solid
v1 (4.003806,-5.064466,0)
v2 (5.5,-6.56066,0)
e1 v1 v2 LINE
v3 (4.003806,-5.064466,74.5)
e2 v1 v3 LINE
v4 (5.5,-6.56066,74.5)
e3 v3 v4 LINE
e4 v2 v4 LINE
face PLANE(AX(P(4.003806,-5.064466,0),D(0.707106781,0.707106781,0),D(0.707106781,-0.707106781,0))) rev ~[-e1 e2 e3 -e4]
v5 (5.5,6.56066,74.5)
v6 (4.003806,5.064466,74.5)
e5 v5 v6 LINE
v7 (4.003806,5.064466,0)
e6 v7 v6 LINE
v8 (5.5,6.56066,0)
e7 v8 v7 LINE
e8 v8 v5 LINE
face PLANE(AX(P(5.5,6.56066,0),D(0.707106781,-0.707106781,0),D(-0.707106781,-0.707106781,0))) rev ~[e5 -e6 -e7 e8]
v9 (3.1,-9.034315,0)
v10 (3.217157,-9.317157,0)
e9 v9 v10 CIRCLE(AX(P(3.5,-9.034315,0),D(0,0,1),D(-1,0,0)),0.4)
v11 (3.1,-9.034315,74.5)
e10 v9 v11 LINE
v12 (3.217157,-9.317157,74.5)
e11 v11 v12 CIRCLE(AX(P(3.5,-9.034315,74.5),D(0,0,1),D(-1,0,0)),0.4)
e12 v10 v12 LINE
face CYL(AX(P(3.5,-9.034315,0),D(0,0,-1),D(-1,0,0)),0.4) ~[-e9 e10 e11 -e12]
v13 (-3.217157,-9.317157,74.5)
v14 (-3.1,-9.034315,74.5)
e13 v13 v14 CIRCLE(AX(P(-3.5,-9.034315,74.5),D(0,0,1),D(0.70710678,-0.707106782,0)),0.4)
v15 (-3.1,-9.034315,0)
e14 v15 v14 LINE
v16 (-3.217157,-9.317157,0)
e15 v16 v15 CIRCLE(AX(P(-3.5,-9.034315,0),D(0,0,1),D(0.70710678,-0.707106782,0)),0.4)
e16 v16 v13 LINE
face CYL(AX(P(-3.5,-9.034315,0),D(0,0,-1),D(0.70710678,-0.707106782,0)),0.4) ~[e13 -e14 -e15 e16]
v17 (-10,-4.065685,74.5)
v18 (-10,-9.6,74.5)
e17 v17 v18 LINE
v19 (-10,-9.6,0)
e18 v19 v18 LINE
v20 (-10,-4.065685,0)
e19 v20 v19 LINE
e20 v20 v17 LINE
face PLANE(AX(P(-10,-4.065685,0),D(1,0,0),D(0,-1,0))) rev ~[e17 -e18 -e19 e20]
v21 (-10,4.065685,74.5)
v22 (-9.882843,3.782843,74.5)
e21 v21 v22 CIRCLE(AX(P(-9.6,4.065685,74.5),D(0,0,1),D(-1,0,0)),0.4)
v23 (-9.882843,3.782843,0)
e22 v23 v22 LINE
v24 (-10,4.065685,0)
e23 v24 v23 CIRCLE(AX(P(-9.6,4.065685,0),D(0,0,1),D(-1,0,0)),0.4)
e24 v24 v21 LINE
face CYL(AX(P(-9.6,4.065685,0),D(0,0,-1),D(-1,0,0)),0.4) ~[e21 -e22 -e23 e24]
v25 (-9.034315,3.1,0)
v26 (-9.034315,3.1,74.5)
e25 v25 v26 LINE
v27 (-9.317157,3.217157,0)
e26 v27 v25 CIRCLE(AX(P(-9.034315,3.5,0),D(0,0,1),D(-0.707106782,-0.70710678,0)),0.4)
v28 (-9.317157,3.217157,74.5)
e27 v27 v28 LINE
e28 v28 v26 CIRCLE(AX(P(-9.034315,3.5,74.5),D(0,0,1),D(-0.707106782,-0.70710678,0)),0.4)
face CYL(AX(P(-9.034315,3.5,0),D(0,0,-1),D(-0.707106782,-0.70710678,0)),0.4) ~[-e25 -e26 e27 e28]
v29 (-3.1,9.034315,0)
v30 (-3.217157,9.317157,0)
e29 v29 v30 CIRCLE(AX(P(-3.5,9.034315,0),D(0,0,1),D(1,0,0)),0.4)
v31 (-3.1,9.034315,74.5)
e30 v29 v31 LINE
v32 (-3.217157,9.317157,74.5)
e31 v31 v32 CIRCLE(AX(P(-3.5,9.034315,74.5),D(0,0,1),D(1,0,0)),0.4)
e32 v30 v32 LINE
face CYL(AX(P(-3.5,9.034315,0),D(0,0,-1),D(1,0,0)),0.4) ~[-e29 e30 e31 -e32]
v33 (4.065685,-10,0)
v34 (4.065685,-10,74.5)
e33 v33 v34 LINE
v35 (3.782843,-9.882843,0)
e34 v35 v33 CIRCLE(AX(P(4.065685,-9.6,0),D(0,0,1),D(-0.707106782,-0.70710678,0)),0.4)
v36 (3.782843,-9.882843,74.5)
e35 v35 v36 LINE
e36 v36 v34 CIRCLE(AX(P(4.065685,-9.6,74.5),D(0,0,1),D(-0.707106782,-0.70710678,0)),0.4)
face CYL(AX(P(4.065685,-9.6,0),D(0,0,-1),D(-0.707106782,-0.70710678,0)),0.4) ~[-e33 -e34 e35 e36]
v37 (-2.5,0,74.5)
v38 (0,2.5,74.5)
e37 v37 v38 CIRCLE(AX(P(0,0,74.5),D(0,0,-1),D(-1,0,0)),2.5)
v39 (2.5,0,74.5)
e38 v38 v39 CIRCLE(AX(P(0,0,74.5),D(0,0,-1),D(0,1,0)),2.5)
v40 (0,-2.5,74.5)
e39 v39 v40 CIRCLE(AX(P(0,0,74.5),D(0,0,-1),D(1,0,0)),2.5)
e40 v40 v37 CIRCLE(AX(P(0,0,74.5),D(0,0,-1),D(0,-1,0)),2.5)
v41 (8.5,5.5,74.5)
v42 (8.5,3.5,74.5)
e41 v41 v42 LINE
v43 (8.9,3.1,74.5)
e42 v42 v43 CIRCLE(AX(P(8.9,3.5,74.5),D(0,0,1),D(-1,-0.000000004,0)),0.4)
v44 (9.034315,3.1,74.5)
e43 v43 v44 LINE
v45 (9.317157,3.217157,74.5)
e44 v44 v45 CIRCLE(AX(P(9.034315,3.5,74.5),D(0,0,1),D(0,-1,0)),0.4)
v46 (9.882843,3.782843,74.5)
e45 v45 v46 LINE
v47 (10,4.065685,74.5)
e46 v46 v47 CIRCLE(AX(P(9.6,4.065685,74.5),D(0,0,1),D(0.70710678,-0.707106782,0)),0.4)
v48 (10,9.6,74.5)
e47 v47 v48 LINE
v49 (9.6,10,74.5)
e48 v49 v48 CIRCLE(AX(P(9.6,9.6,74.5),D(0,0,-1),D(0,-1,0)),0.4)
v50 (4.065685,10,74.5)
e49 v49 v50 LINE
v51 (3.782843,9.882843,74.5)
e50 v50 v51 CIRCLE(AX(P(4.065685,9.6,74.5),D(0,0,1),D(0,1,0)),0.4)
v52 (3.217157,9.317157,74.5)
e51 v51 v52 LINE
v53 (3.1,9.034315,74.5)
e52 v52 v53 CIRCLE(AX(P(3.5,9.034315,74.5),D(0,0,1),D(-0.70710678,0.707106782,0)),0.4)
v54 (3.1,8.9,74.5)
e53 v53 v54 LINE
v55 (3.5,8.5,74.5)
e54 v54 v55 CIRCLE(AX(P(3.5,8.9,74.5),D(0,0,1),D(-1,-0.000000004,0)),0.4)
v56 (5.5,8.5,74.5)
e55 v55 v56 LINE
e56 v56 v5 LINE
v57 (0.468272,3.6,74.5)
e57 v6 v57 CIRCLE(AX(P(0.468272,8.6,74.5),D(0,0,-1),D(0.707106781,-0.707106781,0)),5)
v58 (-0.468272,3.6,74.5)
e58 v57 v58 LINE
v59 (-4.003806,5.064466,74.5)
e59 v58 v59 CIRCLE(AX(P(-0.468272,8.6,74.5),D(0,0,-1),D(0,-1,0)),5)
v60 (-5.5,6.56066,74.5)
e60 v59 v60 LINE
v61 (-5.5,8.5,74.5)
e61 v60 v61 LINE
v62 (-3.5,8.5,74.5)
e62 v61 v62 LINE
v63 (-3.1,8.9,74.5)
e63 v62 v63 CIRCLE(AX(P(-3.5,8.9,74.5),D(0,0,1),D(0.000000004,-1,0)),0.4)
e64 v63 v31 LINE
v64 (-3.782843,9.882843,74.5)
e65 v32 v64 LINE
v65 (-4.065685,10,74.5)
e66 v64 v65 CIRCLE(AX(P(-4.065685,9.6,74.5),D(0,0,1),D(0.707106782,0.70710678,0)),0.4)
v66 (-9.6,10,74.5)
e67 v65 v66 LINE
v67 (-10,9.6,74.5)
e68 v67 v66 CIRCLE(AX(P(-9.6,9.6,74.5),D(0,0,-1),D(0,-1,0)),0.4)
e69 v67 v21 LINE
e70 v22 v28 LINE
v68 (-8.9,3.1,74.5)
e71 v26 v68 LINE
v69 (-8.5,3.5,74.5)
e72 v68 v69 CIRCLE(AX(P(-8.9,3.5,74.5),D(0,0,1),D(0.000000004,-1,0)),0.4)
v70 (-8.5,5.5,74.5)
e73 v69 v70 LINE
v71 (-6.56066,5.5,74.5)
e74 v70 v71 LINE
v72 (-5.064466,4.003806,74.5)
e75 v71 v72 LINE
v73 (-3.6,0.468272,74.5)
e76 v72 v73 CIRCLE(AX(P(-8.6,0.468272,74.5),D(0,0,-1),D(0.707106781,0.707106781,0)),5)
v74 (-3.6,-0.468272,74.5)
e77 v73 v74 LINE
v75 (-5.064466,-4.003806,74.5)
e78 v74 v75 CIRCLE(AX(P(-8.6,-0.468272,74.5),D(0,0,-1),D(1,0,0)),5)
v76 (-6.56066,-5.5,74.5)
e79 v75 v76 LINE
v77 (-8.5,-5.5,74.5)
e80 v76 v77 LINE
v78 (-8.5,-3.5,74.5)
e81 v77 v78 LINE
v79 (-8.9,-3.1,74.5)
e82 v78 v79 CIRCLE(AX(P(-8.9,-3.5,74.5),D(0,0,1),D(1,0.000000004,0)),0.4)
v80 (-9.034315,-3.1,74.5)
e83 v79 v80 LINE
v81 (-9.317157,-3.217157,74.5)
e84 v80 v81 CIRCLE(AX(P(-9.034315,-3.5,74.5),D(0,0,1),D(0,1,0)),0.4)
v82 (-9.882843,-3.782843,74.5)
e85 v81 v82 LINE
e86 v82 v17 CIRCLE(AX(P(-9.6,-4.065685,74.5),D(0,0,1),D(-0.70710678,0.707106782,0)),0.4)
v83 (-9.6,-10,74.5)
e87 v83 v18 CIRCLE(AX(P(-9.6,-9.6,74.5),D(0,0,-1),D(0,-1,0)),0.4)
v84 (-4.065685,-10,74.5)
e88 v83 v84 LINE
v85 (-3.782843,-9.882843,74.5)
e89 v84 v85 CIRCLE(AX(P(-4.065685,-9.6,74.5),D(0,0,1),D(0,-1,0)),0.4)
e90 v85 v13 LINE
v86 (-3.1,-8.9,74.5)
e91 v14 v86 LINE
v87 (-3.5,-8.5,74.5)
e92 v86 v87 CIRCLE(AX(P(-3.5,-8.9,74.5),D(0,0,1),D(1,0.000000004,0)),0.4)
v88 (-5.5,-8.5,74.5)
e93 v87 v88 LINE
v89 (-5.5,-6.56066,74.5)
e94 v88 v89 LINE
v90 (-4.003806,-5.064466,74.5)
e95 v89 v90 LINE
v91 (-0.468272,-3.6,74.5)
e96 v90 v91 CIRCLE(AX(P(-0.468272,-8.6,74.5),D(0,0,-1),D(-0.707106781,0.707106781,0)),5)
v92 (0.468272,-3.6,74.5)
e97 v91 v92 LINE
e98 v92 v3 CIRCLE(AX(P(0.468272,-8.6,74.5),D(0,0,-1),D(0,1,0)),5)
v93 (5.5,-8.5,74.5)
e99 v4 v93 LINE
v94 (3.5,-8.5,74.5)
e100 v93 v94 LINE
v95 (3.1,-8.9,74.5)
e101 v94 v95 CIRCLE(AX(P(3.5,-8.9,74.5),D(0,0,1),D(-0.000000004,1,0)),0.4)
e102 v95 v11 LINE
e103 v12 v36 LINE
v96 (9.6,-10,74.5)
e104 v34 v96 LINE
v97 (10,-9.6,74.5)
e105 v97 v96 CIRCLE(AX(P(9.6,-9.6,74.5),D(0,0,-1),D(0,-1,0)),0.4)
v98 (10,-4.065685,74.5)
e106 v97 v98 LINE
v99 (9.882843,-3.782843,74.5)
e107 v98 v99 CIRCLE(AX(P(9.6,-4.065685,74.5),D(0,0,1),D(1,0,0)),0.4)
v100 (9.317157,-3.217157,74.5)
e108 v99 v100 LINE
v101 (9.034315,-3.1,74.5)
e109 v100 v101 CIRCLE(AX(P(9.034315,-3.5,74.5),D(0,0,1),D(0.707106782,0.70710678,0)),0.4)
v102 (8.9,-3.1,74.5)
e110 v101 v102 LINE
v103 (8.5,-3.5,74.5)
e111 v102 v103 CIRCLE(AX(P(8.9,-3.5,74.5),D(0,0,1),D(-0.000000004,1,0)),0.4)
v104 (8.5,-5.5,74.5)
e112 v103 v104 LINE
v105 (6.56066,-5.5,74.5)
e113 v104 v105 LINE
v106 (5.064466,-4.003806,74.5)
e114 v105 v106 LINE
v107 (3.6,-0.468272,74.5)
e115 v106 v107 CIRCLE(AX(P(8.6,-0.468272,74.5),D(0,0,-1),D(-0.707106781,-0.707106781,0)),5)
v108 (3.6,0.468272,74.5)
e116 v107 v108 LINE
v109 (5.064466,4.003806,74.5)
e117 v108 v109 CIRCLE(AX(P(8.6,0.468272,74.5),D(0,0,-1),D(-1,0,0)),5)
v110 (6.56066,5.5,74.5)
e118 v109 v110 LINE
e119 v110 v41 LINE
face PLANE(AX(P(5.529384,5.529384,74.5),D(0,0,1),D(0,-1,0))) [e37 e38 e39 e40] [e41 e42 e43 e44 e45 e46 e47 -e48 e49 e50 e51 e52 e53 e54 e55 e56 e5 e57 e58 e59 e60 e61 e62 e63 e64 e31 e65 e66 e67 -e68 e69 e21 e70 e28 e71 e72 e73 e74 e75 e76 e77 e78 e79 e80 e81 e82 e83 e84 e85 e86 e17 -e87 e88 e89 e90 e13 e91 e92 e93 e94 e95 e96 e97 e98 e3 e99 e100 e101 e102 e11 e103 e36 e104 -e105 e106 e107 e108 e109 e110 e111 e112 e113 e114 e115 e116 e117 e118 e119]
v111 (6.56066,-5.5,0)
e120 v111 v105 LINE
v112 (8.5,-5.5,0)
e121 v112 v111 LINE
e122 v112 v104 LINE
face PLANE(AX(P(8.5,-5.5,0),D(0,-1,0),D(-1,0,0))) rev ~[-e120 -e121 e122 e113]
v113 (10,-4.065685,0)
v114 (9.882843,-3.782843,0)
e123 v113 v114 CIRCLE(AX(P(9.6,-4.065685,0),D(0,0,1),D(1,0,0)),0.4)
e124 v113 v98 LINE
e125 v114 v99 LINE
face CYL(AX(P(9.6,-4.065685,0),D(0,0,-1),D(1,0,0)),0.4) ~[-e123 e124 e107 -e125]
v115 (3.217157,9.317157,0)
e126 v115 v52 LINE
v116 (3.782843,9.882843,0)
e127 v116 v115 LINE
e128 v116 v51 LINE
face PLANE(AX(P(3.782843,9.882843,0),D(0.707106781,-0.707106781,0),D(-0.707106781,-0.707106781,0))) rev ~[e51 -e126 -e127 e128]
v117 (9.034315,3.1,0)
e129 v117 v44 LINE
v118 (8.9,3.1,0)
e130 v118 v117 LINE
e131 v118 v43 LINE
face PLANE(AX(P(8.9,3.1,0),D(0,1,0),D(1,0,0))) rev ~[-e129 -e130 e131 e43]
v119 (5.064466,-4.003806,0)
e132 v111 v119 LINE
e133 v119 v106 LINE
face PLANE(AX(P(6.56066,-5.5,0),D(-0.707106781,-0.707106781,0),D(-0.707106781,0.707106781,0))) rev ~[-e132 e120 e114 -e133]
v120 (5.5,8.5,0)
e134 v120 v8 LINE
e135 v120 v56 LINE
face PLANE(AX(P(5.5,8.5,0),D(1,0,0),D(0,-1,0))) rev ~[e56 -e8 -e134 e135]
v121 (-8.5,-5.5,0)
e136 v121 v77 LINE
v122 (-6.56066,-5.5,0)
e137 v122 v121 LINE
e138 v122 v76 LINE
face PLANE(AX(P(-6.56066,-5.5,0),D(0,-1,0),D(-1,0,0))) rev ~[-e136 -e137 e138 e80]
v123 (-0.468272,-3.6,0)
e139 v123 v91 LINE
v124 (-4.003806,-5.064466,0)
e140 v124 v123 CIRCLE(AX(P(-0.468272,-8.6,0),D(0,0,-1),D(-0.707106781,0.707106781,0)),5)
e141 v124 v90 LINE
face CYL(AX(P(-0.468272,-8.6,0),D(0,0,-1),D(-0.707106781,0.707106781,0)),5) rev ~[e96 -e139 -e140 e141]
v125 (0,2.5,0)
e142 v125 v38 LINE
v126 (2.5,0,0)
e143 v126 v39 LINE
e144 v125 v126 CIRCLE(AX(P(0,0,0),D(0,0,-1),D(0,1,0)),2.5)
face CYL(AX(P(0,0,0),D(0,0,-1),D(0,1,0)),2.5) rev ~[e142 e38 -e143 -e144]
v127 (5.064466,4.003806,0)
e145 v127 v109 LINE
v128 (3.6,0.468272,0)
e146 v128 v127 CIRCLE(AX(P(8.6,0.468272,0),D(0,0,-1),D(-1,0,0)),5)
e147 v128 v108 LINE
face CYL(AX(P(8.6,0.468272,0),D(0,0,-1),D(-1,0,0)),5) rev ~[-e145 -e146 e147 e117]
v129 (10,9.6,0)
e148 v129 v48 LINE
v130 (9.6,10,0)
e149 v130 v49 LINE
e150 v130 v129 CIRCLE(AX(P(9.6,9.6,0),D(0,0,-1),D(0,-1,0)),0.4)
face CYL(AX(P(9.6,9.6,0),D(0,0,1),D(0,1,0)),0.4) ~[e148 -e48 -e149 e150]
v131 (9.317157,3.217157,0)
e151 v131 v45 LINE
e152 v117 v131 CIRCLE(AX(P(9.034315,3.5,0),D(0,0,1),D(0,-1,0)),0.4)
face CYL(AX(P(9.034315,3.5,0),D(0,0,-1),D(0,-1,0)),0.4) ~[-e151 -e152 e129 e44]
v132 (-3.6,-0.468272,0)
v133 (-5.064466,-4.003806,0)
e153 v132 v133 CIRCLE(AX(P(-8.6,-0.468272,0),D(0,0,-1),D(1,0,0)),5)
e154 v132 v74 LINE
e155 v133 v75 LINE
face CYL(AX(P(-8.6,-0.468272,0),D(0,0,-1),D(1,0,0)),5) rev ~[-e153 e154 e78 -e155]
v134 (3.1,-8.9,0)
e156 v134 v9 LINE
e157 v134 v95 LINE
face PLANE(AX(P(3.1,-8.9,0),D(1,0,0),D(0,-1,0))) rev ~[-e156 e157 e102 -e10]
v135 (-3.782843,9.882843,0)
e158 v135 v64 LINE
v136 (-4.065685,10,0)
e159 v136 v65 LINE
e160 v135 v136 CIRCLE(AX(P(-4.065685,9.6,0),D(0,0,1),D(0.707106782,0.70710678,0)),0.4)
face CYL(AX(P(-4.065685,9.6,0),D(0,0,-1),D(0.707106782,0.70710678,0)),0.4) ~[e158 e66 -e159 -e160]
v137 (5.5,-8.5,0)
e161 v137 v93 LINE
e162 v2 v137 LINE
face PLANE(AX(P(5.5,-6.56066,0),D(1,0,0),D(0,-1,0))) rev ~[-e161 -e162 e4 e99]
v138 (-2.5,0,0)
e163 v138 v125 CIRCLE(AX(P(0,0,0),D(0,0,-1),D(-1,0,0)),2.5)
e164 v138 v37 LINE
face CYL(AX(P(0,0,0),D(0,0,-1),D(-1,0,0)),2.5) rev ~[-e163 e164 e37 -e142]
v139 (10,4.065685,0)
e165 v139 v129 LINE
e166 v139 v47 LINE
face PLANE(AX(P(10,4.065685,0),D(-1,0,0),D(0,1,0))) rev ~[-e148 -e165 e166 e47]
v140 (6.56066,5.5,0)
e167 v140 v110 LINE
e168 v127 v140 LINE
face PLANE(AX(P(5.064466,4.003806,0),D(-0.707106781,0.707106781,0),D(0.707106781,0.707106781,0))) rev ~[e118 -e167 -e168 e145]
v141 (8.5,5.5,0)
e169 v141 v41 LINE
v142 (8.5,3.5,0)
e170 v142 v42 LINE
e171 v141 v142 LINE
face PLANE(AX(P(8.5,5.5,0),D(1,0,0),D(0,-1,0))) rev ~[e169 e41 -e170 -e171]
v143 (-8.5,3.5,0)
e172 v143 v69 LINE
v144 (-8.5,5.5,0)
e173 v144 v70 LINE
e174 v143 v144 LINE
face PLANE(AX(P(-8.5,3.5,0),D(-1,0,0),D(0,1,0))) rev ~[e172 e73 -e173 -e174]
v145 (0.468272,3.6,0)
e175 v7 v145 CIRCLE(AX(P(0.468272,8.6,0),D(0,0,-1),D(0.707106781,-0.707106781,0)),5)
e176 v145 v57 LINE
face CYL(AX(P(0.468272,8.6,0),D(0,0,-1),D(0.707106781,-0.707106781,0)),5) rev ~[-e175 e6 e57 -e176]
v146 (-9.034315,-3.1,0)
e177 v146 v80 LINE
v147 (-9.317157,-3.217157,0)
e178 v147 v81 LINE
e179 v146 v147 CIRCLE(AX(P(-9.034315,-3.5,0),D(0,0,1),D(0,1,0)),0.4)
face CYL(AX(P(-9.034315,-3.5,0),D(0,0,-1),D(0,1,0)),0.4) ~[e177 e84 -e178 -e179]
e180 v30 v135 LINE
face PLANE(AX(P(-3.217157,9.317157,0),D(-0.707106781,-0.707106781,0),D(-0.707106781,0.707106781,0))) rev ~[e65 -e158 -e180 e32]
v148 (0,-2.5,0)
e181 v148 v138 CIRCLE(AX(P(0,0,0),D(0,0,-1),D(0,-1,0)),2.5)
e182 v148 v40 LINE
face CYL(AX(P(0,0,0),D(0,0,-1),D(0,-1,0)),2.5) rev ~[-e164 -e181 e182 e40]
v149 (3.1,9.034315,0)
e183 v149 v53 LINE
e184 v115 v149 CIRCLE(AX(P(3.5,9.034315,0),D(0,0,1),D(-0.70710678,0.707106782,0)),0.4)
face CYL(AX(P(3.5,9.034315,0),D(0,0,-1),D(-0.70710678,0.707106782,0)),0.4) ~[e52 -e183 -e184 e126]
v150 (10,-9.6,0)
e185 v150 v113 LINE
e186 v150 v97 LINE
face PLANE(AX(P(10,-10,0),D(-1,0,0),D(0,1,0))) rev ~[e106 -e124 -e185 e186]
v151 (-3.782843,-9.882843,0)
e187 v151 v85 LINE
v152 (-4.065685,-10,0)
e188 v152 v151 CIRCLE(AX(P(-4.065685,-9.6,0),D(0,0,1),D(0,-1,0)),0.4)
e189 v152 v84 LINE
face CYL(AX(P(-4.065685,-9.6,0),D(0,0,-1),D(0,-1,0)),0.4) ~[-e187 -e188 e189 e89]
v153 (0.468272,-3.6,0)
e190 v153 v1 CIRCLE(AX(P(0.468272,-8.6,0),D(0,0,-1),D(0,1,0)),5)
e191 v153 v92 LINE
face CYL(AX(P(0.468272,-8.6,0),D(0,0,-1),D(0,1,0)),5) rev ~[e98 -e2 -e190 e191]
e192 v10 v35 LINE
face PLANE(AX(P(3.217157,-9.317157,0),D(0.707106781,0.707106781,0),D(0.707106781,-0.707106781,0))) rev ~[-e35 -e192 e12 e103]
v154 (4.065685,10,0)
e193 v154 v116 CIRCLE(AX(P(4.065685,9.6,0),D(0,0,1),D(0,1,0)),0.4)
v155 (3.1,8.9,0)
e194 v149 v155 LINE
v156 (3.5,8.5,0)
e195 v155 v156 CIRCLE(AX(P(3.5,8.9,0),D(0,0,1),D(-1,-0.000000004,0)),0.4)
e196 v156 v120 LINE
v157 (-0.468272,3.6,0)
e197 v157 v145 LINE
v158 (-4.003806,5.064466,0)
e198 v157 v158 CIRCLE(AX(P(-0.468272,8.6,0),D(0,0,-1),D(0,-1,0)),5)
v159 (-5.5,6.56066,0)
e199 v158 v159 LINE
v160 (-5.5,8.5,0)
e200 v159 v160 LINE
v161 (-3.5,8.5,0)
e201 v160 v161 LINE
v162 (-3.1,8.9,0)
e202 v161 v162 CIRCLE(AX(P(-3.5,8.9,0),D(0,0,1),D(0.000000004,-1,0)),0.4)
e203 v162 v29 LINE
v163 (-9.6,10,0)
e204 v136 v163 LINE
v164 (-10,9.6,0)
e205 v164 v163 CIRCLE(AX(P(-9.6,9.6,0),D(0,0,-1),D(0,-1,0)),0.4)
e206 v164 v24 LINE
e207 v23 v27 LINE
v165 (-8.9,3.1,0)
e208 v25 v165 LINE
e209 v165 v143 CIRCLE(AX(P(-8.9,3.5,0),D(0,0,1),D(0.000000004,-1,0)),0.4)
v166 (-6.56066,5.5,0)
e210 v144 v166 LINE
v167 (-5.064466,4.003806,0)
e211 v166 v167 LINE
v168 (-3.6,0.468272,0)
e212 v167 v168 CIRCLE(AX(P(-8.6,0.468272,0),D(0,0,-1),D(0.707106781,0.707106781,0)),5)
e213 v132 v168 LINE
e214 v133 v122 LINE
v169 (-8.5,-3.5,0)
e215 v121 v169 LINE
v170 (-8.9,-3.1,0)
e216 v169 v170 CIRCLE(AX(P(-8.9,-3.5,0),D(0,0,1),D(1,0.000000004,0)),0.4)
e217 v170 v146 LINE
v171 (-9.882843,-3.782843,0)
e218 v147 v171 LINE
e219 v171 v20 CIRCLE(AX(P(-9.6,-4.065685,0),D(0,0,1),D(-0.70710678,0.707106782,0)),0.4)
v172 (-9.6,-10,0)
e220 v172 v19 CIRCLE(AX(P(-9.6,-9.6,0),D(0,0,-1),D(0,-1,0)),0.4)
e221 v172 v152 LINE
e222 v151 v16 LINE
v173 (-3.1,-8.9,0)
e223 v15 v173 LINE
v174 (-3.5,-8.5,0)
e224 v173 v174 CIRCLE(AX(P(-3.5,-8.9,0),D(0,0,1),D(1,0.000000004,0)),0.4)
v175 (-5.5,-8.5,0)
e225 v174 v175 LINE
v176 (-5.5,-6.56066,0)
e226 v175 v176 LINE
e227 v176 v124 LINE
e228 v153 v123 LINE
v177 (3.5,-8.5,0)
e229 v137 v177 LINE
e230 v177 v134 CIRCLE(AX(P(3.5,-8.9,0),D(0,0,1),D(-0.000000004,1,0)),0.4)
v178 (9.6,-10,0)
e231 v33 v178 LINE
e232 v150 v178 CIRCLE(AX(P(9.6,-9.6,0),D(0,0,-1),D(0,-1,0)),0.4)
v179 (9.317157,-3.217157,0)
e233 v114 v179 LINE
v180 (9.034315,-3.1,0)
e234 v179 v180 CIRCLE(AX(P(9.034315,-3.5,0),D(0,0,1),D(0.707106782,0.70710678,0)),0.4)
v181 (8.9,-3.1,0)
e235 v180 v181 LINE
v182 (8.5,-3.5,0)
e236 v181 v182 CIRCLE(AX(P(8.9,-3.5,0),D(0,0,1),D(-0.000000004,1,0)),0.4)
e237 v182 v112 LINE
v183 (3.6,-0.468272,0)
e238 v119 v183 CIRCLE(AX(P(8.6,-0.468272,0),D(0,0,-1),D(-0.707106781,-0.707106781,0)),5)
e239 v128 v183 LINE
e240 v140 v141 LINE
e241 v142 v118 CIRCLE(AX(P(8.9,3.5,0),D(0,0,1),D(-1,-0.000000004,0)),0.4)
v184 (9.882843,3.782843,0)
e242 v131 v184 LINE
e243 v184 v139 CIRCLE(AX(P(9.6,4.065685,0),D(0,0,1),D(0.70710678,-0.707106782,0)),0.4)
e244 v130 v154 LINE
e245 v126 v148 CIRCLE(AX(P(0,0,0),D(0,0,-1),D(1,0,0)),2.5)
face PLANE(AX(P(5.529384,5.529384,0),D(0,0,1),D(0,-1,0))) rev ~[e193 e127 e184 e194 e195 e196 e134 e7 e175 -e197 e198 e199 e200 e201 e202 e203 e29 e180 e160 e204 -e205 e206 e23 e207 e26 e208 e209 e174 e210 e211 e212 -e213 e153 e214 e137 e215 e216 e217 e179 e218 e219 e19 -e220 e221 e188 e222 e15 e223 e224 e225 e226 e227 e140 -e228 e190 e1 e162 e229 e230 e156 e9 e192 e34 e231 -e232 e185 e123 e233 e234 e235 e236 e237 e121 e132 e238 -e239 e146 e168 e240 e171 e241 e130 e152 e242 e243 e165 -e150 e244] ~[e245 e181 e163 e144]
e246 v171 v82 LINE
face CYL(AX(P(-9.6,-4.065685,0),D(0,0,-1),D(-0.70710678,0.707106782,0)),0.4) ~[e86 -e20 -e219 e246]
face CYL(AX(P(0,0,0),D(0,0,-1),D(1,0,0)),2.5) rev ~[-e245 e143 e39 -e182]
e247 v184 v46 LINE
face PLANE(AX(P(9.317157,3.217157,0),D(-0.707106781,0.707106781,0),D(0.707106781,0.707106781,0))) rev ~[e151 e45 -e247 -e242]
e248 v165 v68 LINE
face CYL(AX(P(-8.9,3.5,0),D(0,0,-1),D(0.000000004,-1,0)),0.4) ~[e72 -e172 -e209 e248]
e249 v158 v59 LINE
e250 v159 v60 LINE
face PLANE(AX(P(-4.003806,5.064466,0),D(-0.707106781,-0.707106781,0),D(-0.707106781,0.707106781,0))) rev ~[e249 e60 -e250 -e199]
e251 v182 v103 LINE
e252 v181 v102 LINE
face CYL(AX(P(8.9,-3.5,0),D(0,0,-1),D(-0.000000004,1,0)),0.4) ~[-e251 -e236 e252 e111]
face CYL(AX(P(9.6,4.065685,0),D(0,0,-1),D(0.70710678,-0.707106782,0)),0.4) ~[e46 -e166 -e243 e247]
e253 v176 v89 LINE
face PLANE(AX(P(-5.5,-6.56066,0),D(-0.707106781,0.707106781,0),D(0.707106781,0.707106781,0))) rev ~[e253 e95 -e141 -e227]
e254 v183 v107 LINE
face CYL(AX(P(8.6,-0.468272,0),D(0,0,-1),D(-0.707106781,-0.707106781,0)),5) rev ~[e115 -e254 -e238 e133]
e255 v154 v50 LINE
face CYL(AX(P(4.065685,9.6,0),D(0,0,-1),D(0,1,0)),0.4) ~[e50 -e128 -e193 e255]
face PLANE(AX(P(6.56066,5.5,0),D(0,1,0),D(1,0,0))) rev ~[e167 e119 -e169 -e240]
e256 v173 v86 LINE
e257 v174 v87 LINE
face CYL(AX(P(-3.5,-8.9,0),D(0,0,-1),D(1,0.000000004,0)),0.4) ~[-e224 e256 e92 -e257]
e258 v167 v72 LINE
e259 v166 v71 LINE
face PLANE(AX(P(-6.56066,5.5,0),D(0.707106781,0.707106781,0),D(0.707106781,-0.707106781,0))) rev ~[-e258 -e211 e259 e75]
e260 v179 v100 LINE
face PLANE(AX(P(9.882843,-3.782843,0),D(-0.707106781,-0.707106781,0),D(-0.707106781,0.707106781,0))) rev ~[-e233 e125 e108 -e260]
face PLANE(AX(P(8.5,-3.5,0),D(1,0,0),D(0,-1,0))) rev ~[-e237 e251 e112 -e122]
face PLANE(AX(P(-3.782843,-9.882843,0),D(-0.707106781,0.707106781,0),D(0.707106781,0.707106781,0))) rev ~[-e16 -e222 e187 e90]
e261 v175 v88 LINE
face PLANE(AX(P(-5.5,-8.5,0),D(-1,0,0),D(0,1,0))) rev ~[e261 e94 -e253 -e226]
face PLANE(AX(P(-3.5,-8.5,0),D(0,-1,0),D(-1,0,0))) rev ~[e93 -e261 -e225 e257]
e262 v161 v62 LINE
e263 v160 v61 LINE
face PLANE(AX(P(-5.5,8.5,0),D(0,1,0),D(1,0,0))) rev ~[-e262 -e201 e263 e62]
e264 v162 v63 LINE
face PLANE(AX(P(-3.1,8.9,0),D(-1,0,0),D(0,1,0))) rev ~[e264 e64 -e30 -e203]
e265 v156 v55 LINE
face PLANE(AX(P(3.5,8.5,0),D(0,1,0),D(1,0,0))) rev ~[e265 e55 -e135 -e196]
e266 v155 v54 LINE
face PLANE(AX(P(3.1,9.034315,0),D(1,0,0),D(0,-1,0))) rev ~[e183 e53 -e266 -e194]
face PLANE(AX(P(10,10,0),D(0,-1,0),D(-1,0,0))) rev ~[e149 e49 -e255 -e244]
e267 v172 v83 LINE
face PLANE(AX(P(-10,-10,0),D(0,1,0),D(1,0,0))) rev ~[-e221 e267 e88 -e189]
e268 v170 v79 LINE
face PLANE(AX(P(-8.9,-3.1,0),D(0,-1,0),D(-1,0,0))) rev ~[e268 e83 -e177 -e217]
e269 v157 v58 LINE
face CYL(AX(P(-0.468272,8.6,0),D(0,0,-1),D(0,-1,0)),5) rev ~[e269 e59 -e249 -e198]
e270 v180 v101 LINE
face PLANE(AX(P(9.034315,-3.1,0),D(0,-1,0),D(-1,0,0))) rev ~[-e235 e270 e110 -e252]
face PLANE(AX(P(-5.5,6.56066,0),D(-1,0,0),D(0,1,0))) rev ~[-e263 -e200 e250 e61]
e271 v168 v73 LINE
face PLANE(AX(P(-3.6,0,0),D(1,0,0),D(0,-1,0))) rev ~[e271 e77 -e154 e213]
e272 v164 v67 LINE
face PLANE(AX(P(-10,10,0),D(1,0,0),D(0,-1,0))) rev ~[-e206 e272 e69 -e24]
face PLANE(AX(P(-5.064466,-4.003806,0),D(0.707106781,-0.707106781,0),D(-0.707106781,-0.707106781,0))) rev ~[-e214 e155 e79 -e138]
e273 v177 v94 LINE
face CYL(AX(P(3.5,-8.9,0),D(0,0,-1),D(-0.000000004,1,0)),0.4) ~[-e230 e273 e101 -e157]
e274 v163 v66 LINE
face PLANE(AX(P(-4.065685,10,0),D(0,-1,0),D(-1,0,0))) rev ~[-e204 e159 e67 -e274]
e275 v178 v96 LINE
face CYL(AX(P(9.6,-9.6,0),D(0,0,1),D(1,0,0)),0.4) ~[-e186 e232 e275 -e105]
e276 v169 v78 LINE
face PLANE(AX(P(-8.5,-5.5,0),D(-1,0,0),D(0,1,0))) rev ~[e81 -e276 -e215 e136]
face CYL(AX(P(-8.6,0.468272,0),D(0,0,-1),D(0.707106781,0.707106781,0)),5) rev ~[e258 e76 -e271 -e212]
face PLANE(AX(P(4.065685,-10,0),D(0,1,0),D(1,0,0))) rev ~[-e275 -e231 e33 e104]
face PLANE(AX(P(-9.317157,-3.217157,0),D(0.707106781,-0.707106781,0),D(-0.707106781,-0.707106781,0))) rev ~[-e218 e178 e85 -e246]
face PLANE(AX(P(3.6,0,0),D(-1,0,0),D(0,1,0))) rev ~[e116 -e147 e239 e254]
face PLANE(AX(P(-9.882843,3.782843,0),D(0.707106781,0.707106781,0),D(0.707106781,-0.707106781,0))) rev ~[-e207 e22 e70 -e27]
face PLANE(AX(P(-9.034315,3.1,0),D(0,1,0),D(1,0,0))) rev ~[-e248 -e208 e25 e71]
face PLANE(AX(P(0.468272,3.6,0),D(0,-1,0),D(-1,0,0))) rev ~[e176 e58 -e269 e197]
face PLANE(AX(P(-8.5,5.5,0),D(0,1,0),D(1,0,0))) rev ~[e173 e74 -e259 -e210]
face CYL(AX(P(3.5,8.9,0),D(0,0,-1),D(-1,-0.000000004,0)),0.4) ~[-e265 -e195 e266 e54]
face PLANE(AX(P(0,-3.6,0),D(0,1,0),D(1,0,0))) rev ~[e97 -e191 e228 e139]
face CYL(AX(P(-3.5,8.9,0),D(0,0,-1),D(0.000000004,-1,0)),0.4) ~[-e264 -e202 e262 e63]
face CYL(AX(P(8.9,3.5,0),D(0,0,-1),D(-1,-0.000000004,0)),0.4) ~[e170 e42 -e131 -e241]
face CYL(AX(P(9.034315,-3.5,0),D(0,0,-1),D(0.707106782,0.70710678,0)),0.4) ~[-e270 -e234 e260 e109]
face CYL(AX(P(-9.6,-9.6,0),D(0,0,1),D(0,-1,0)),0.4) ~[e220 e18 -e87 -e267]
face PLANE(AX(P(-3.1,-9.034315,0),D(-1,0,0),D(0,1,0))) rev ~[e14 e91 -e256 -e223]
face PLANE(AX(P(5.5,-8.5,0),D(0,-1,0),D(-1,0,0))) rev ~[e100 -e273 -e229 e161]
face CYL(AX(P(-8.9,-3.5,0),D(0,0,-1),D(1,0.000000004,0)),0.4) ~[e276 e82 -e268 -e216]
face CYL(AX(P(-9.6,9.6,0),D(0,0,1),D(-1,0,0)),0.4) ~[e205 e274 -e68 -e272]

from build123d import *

# Parameters (mm, degrees)
RESSALTO_EXTRUS_O1_DEPTH = 74.5
PADR_OCIRCULAR1_COUNT    = 4
FILETE1_R                = 0.4


with BuildPart() as part:
    # Esboço1 → Ressalto-extrusão1 (new body)
    with BuildSketch(Plane.XY):
        with BuildLine():
            ThreePointArc((-9.317157288, 3.217157288), (-9.187387948, 3.130448187), (-9.034314575, 3.1))
            Line((-9.034314575, 3.1), (-8.9, 3.1))
            ThreePointArc((-8.9, 3.1), (-8.617157288, 3.217157288), (-8.5, 3.5))
            Line((-8.5, 3.5), (-8.5, 5.5))
            Line((-8.5, 5.5), (-6.560660172, 5.5))
            Line((-6.560660172, 5.5), (-5.064466094, 4.003805922))
            ThreePointArc((-5.064466094, 4.003805922), (-3.980602337, 2.381689178), (-3.6, 0.468272016))
            Line((-3.6, 0.468272016), (-3.6, 0))
            Line((-3.6, 0), (-2.5, 0))
            ThreePointArc((-2.5, 0), (-1.767766953, 1.767766953), (0, 2.5))
            Line((0, 2.5), (0, 3.6))
            Line((0, 3.6), (-0.468272016, 3.6))
            ThreePointArc((-0.468272016, 3.6), (-2.381689178, 3.980602337), (-4.003805922, 5.064466094))
            Line((-4.003805922, 5.064466094), (-5.5, 6.560660172))
            Line((-5.5, 6.560660172), (-5.5, 8.5))
            Line((-5.5, 8.5), (-3.5, 8.5))
            ThreePointArc((-3.5, 8.5), (-3.217157288, 8.617157288), (-3.1, 8.9))
            Line((-3.1, 8.9), (-3.1, 9.034314575))
            ThreePointArc((-3.1, 9.034314575), (-3.130448187, 9.187387948), (-3.217157288, 9.317157288))
            Line((-3.217157288, 9.317157288), (-3.782842712, 9.882842712))
            ThreePointArc((-3.782842712, 9.882842712), (-3.912612052, 9.969551813), (-4.065685425, 10))
            Line((-4.065685425, 10), (-10, 10))
            Line((-10, 10), (-10, 4.065685425))
            ThreePointArc((-10, 4.065685425), (-9.969551813, 3.912612052), (-9.882842712, 3.782842712))
            Line((-9.882842712, 3.782842712), (-9.317157288, 3.217157288))
        make_face()
    ressalto_extrus_o1 = extrude(amount=RESSALTO_EXTRUS_O1_DEPTH)

    # PadrãoCircular1: Ressalto-extrusão1 ×4 about axis
    padr_ocircular1_axis = Axis((0, 0, 0), (0, 0, 1))
    for i in range(1, PADR_OCIRCULAR1_COUNT):
        add(ressalto_extrus_o1.rotate(padr_ocircular1_axis, i * 360 / PADR_OCIRCULAR1_COUNT))

    # Filete1
    filete1_edges = [part.edges().sort_by_distance(p)[0] for p in [
        (10, -10, 37.25),
        (10, 10, 37.25),
        (-10, 10, 37.25),
        (-10, -10, 37.25),
    ]]
    fillet(filete1_edges, radius=FILETE1_R)


solid = part.part
